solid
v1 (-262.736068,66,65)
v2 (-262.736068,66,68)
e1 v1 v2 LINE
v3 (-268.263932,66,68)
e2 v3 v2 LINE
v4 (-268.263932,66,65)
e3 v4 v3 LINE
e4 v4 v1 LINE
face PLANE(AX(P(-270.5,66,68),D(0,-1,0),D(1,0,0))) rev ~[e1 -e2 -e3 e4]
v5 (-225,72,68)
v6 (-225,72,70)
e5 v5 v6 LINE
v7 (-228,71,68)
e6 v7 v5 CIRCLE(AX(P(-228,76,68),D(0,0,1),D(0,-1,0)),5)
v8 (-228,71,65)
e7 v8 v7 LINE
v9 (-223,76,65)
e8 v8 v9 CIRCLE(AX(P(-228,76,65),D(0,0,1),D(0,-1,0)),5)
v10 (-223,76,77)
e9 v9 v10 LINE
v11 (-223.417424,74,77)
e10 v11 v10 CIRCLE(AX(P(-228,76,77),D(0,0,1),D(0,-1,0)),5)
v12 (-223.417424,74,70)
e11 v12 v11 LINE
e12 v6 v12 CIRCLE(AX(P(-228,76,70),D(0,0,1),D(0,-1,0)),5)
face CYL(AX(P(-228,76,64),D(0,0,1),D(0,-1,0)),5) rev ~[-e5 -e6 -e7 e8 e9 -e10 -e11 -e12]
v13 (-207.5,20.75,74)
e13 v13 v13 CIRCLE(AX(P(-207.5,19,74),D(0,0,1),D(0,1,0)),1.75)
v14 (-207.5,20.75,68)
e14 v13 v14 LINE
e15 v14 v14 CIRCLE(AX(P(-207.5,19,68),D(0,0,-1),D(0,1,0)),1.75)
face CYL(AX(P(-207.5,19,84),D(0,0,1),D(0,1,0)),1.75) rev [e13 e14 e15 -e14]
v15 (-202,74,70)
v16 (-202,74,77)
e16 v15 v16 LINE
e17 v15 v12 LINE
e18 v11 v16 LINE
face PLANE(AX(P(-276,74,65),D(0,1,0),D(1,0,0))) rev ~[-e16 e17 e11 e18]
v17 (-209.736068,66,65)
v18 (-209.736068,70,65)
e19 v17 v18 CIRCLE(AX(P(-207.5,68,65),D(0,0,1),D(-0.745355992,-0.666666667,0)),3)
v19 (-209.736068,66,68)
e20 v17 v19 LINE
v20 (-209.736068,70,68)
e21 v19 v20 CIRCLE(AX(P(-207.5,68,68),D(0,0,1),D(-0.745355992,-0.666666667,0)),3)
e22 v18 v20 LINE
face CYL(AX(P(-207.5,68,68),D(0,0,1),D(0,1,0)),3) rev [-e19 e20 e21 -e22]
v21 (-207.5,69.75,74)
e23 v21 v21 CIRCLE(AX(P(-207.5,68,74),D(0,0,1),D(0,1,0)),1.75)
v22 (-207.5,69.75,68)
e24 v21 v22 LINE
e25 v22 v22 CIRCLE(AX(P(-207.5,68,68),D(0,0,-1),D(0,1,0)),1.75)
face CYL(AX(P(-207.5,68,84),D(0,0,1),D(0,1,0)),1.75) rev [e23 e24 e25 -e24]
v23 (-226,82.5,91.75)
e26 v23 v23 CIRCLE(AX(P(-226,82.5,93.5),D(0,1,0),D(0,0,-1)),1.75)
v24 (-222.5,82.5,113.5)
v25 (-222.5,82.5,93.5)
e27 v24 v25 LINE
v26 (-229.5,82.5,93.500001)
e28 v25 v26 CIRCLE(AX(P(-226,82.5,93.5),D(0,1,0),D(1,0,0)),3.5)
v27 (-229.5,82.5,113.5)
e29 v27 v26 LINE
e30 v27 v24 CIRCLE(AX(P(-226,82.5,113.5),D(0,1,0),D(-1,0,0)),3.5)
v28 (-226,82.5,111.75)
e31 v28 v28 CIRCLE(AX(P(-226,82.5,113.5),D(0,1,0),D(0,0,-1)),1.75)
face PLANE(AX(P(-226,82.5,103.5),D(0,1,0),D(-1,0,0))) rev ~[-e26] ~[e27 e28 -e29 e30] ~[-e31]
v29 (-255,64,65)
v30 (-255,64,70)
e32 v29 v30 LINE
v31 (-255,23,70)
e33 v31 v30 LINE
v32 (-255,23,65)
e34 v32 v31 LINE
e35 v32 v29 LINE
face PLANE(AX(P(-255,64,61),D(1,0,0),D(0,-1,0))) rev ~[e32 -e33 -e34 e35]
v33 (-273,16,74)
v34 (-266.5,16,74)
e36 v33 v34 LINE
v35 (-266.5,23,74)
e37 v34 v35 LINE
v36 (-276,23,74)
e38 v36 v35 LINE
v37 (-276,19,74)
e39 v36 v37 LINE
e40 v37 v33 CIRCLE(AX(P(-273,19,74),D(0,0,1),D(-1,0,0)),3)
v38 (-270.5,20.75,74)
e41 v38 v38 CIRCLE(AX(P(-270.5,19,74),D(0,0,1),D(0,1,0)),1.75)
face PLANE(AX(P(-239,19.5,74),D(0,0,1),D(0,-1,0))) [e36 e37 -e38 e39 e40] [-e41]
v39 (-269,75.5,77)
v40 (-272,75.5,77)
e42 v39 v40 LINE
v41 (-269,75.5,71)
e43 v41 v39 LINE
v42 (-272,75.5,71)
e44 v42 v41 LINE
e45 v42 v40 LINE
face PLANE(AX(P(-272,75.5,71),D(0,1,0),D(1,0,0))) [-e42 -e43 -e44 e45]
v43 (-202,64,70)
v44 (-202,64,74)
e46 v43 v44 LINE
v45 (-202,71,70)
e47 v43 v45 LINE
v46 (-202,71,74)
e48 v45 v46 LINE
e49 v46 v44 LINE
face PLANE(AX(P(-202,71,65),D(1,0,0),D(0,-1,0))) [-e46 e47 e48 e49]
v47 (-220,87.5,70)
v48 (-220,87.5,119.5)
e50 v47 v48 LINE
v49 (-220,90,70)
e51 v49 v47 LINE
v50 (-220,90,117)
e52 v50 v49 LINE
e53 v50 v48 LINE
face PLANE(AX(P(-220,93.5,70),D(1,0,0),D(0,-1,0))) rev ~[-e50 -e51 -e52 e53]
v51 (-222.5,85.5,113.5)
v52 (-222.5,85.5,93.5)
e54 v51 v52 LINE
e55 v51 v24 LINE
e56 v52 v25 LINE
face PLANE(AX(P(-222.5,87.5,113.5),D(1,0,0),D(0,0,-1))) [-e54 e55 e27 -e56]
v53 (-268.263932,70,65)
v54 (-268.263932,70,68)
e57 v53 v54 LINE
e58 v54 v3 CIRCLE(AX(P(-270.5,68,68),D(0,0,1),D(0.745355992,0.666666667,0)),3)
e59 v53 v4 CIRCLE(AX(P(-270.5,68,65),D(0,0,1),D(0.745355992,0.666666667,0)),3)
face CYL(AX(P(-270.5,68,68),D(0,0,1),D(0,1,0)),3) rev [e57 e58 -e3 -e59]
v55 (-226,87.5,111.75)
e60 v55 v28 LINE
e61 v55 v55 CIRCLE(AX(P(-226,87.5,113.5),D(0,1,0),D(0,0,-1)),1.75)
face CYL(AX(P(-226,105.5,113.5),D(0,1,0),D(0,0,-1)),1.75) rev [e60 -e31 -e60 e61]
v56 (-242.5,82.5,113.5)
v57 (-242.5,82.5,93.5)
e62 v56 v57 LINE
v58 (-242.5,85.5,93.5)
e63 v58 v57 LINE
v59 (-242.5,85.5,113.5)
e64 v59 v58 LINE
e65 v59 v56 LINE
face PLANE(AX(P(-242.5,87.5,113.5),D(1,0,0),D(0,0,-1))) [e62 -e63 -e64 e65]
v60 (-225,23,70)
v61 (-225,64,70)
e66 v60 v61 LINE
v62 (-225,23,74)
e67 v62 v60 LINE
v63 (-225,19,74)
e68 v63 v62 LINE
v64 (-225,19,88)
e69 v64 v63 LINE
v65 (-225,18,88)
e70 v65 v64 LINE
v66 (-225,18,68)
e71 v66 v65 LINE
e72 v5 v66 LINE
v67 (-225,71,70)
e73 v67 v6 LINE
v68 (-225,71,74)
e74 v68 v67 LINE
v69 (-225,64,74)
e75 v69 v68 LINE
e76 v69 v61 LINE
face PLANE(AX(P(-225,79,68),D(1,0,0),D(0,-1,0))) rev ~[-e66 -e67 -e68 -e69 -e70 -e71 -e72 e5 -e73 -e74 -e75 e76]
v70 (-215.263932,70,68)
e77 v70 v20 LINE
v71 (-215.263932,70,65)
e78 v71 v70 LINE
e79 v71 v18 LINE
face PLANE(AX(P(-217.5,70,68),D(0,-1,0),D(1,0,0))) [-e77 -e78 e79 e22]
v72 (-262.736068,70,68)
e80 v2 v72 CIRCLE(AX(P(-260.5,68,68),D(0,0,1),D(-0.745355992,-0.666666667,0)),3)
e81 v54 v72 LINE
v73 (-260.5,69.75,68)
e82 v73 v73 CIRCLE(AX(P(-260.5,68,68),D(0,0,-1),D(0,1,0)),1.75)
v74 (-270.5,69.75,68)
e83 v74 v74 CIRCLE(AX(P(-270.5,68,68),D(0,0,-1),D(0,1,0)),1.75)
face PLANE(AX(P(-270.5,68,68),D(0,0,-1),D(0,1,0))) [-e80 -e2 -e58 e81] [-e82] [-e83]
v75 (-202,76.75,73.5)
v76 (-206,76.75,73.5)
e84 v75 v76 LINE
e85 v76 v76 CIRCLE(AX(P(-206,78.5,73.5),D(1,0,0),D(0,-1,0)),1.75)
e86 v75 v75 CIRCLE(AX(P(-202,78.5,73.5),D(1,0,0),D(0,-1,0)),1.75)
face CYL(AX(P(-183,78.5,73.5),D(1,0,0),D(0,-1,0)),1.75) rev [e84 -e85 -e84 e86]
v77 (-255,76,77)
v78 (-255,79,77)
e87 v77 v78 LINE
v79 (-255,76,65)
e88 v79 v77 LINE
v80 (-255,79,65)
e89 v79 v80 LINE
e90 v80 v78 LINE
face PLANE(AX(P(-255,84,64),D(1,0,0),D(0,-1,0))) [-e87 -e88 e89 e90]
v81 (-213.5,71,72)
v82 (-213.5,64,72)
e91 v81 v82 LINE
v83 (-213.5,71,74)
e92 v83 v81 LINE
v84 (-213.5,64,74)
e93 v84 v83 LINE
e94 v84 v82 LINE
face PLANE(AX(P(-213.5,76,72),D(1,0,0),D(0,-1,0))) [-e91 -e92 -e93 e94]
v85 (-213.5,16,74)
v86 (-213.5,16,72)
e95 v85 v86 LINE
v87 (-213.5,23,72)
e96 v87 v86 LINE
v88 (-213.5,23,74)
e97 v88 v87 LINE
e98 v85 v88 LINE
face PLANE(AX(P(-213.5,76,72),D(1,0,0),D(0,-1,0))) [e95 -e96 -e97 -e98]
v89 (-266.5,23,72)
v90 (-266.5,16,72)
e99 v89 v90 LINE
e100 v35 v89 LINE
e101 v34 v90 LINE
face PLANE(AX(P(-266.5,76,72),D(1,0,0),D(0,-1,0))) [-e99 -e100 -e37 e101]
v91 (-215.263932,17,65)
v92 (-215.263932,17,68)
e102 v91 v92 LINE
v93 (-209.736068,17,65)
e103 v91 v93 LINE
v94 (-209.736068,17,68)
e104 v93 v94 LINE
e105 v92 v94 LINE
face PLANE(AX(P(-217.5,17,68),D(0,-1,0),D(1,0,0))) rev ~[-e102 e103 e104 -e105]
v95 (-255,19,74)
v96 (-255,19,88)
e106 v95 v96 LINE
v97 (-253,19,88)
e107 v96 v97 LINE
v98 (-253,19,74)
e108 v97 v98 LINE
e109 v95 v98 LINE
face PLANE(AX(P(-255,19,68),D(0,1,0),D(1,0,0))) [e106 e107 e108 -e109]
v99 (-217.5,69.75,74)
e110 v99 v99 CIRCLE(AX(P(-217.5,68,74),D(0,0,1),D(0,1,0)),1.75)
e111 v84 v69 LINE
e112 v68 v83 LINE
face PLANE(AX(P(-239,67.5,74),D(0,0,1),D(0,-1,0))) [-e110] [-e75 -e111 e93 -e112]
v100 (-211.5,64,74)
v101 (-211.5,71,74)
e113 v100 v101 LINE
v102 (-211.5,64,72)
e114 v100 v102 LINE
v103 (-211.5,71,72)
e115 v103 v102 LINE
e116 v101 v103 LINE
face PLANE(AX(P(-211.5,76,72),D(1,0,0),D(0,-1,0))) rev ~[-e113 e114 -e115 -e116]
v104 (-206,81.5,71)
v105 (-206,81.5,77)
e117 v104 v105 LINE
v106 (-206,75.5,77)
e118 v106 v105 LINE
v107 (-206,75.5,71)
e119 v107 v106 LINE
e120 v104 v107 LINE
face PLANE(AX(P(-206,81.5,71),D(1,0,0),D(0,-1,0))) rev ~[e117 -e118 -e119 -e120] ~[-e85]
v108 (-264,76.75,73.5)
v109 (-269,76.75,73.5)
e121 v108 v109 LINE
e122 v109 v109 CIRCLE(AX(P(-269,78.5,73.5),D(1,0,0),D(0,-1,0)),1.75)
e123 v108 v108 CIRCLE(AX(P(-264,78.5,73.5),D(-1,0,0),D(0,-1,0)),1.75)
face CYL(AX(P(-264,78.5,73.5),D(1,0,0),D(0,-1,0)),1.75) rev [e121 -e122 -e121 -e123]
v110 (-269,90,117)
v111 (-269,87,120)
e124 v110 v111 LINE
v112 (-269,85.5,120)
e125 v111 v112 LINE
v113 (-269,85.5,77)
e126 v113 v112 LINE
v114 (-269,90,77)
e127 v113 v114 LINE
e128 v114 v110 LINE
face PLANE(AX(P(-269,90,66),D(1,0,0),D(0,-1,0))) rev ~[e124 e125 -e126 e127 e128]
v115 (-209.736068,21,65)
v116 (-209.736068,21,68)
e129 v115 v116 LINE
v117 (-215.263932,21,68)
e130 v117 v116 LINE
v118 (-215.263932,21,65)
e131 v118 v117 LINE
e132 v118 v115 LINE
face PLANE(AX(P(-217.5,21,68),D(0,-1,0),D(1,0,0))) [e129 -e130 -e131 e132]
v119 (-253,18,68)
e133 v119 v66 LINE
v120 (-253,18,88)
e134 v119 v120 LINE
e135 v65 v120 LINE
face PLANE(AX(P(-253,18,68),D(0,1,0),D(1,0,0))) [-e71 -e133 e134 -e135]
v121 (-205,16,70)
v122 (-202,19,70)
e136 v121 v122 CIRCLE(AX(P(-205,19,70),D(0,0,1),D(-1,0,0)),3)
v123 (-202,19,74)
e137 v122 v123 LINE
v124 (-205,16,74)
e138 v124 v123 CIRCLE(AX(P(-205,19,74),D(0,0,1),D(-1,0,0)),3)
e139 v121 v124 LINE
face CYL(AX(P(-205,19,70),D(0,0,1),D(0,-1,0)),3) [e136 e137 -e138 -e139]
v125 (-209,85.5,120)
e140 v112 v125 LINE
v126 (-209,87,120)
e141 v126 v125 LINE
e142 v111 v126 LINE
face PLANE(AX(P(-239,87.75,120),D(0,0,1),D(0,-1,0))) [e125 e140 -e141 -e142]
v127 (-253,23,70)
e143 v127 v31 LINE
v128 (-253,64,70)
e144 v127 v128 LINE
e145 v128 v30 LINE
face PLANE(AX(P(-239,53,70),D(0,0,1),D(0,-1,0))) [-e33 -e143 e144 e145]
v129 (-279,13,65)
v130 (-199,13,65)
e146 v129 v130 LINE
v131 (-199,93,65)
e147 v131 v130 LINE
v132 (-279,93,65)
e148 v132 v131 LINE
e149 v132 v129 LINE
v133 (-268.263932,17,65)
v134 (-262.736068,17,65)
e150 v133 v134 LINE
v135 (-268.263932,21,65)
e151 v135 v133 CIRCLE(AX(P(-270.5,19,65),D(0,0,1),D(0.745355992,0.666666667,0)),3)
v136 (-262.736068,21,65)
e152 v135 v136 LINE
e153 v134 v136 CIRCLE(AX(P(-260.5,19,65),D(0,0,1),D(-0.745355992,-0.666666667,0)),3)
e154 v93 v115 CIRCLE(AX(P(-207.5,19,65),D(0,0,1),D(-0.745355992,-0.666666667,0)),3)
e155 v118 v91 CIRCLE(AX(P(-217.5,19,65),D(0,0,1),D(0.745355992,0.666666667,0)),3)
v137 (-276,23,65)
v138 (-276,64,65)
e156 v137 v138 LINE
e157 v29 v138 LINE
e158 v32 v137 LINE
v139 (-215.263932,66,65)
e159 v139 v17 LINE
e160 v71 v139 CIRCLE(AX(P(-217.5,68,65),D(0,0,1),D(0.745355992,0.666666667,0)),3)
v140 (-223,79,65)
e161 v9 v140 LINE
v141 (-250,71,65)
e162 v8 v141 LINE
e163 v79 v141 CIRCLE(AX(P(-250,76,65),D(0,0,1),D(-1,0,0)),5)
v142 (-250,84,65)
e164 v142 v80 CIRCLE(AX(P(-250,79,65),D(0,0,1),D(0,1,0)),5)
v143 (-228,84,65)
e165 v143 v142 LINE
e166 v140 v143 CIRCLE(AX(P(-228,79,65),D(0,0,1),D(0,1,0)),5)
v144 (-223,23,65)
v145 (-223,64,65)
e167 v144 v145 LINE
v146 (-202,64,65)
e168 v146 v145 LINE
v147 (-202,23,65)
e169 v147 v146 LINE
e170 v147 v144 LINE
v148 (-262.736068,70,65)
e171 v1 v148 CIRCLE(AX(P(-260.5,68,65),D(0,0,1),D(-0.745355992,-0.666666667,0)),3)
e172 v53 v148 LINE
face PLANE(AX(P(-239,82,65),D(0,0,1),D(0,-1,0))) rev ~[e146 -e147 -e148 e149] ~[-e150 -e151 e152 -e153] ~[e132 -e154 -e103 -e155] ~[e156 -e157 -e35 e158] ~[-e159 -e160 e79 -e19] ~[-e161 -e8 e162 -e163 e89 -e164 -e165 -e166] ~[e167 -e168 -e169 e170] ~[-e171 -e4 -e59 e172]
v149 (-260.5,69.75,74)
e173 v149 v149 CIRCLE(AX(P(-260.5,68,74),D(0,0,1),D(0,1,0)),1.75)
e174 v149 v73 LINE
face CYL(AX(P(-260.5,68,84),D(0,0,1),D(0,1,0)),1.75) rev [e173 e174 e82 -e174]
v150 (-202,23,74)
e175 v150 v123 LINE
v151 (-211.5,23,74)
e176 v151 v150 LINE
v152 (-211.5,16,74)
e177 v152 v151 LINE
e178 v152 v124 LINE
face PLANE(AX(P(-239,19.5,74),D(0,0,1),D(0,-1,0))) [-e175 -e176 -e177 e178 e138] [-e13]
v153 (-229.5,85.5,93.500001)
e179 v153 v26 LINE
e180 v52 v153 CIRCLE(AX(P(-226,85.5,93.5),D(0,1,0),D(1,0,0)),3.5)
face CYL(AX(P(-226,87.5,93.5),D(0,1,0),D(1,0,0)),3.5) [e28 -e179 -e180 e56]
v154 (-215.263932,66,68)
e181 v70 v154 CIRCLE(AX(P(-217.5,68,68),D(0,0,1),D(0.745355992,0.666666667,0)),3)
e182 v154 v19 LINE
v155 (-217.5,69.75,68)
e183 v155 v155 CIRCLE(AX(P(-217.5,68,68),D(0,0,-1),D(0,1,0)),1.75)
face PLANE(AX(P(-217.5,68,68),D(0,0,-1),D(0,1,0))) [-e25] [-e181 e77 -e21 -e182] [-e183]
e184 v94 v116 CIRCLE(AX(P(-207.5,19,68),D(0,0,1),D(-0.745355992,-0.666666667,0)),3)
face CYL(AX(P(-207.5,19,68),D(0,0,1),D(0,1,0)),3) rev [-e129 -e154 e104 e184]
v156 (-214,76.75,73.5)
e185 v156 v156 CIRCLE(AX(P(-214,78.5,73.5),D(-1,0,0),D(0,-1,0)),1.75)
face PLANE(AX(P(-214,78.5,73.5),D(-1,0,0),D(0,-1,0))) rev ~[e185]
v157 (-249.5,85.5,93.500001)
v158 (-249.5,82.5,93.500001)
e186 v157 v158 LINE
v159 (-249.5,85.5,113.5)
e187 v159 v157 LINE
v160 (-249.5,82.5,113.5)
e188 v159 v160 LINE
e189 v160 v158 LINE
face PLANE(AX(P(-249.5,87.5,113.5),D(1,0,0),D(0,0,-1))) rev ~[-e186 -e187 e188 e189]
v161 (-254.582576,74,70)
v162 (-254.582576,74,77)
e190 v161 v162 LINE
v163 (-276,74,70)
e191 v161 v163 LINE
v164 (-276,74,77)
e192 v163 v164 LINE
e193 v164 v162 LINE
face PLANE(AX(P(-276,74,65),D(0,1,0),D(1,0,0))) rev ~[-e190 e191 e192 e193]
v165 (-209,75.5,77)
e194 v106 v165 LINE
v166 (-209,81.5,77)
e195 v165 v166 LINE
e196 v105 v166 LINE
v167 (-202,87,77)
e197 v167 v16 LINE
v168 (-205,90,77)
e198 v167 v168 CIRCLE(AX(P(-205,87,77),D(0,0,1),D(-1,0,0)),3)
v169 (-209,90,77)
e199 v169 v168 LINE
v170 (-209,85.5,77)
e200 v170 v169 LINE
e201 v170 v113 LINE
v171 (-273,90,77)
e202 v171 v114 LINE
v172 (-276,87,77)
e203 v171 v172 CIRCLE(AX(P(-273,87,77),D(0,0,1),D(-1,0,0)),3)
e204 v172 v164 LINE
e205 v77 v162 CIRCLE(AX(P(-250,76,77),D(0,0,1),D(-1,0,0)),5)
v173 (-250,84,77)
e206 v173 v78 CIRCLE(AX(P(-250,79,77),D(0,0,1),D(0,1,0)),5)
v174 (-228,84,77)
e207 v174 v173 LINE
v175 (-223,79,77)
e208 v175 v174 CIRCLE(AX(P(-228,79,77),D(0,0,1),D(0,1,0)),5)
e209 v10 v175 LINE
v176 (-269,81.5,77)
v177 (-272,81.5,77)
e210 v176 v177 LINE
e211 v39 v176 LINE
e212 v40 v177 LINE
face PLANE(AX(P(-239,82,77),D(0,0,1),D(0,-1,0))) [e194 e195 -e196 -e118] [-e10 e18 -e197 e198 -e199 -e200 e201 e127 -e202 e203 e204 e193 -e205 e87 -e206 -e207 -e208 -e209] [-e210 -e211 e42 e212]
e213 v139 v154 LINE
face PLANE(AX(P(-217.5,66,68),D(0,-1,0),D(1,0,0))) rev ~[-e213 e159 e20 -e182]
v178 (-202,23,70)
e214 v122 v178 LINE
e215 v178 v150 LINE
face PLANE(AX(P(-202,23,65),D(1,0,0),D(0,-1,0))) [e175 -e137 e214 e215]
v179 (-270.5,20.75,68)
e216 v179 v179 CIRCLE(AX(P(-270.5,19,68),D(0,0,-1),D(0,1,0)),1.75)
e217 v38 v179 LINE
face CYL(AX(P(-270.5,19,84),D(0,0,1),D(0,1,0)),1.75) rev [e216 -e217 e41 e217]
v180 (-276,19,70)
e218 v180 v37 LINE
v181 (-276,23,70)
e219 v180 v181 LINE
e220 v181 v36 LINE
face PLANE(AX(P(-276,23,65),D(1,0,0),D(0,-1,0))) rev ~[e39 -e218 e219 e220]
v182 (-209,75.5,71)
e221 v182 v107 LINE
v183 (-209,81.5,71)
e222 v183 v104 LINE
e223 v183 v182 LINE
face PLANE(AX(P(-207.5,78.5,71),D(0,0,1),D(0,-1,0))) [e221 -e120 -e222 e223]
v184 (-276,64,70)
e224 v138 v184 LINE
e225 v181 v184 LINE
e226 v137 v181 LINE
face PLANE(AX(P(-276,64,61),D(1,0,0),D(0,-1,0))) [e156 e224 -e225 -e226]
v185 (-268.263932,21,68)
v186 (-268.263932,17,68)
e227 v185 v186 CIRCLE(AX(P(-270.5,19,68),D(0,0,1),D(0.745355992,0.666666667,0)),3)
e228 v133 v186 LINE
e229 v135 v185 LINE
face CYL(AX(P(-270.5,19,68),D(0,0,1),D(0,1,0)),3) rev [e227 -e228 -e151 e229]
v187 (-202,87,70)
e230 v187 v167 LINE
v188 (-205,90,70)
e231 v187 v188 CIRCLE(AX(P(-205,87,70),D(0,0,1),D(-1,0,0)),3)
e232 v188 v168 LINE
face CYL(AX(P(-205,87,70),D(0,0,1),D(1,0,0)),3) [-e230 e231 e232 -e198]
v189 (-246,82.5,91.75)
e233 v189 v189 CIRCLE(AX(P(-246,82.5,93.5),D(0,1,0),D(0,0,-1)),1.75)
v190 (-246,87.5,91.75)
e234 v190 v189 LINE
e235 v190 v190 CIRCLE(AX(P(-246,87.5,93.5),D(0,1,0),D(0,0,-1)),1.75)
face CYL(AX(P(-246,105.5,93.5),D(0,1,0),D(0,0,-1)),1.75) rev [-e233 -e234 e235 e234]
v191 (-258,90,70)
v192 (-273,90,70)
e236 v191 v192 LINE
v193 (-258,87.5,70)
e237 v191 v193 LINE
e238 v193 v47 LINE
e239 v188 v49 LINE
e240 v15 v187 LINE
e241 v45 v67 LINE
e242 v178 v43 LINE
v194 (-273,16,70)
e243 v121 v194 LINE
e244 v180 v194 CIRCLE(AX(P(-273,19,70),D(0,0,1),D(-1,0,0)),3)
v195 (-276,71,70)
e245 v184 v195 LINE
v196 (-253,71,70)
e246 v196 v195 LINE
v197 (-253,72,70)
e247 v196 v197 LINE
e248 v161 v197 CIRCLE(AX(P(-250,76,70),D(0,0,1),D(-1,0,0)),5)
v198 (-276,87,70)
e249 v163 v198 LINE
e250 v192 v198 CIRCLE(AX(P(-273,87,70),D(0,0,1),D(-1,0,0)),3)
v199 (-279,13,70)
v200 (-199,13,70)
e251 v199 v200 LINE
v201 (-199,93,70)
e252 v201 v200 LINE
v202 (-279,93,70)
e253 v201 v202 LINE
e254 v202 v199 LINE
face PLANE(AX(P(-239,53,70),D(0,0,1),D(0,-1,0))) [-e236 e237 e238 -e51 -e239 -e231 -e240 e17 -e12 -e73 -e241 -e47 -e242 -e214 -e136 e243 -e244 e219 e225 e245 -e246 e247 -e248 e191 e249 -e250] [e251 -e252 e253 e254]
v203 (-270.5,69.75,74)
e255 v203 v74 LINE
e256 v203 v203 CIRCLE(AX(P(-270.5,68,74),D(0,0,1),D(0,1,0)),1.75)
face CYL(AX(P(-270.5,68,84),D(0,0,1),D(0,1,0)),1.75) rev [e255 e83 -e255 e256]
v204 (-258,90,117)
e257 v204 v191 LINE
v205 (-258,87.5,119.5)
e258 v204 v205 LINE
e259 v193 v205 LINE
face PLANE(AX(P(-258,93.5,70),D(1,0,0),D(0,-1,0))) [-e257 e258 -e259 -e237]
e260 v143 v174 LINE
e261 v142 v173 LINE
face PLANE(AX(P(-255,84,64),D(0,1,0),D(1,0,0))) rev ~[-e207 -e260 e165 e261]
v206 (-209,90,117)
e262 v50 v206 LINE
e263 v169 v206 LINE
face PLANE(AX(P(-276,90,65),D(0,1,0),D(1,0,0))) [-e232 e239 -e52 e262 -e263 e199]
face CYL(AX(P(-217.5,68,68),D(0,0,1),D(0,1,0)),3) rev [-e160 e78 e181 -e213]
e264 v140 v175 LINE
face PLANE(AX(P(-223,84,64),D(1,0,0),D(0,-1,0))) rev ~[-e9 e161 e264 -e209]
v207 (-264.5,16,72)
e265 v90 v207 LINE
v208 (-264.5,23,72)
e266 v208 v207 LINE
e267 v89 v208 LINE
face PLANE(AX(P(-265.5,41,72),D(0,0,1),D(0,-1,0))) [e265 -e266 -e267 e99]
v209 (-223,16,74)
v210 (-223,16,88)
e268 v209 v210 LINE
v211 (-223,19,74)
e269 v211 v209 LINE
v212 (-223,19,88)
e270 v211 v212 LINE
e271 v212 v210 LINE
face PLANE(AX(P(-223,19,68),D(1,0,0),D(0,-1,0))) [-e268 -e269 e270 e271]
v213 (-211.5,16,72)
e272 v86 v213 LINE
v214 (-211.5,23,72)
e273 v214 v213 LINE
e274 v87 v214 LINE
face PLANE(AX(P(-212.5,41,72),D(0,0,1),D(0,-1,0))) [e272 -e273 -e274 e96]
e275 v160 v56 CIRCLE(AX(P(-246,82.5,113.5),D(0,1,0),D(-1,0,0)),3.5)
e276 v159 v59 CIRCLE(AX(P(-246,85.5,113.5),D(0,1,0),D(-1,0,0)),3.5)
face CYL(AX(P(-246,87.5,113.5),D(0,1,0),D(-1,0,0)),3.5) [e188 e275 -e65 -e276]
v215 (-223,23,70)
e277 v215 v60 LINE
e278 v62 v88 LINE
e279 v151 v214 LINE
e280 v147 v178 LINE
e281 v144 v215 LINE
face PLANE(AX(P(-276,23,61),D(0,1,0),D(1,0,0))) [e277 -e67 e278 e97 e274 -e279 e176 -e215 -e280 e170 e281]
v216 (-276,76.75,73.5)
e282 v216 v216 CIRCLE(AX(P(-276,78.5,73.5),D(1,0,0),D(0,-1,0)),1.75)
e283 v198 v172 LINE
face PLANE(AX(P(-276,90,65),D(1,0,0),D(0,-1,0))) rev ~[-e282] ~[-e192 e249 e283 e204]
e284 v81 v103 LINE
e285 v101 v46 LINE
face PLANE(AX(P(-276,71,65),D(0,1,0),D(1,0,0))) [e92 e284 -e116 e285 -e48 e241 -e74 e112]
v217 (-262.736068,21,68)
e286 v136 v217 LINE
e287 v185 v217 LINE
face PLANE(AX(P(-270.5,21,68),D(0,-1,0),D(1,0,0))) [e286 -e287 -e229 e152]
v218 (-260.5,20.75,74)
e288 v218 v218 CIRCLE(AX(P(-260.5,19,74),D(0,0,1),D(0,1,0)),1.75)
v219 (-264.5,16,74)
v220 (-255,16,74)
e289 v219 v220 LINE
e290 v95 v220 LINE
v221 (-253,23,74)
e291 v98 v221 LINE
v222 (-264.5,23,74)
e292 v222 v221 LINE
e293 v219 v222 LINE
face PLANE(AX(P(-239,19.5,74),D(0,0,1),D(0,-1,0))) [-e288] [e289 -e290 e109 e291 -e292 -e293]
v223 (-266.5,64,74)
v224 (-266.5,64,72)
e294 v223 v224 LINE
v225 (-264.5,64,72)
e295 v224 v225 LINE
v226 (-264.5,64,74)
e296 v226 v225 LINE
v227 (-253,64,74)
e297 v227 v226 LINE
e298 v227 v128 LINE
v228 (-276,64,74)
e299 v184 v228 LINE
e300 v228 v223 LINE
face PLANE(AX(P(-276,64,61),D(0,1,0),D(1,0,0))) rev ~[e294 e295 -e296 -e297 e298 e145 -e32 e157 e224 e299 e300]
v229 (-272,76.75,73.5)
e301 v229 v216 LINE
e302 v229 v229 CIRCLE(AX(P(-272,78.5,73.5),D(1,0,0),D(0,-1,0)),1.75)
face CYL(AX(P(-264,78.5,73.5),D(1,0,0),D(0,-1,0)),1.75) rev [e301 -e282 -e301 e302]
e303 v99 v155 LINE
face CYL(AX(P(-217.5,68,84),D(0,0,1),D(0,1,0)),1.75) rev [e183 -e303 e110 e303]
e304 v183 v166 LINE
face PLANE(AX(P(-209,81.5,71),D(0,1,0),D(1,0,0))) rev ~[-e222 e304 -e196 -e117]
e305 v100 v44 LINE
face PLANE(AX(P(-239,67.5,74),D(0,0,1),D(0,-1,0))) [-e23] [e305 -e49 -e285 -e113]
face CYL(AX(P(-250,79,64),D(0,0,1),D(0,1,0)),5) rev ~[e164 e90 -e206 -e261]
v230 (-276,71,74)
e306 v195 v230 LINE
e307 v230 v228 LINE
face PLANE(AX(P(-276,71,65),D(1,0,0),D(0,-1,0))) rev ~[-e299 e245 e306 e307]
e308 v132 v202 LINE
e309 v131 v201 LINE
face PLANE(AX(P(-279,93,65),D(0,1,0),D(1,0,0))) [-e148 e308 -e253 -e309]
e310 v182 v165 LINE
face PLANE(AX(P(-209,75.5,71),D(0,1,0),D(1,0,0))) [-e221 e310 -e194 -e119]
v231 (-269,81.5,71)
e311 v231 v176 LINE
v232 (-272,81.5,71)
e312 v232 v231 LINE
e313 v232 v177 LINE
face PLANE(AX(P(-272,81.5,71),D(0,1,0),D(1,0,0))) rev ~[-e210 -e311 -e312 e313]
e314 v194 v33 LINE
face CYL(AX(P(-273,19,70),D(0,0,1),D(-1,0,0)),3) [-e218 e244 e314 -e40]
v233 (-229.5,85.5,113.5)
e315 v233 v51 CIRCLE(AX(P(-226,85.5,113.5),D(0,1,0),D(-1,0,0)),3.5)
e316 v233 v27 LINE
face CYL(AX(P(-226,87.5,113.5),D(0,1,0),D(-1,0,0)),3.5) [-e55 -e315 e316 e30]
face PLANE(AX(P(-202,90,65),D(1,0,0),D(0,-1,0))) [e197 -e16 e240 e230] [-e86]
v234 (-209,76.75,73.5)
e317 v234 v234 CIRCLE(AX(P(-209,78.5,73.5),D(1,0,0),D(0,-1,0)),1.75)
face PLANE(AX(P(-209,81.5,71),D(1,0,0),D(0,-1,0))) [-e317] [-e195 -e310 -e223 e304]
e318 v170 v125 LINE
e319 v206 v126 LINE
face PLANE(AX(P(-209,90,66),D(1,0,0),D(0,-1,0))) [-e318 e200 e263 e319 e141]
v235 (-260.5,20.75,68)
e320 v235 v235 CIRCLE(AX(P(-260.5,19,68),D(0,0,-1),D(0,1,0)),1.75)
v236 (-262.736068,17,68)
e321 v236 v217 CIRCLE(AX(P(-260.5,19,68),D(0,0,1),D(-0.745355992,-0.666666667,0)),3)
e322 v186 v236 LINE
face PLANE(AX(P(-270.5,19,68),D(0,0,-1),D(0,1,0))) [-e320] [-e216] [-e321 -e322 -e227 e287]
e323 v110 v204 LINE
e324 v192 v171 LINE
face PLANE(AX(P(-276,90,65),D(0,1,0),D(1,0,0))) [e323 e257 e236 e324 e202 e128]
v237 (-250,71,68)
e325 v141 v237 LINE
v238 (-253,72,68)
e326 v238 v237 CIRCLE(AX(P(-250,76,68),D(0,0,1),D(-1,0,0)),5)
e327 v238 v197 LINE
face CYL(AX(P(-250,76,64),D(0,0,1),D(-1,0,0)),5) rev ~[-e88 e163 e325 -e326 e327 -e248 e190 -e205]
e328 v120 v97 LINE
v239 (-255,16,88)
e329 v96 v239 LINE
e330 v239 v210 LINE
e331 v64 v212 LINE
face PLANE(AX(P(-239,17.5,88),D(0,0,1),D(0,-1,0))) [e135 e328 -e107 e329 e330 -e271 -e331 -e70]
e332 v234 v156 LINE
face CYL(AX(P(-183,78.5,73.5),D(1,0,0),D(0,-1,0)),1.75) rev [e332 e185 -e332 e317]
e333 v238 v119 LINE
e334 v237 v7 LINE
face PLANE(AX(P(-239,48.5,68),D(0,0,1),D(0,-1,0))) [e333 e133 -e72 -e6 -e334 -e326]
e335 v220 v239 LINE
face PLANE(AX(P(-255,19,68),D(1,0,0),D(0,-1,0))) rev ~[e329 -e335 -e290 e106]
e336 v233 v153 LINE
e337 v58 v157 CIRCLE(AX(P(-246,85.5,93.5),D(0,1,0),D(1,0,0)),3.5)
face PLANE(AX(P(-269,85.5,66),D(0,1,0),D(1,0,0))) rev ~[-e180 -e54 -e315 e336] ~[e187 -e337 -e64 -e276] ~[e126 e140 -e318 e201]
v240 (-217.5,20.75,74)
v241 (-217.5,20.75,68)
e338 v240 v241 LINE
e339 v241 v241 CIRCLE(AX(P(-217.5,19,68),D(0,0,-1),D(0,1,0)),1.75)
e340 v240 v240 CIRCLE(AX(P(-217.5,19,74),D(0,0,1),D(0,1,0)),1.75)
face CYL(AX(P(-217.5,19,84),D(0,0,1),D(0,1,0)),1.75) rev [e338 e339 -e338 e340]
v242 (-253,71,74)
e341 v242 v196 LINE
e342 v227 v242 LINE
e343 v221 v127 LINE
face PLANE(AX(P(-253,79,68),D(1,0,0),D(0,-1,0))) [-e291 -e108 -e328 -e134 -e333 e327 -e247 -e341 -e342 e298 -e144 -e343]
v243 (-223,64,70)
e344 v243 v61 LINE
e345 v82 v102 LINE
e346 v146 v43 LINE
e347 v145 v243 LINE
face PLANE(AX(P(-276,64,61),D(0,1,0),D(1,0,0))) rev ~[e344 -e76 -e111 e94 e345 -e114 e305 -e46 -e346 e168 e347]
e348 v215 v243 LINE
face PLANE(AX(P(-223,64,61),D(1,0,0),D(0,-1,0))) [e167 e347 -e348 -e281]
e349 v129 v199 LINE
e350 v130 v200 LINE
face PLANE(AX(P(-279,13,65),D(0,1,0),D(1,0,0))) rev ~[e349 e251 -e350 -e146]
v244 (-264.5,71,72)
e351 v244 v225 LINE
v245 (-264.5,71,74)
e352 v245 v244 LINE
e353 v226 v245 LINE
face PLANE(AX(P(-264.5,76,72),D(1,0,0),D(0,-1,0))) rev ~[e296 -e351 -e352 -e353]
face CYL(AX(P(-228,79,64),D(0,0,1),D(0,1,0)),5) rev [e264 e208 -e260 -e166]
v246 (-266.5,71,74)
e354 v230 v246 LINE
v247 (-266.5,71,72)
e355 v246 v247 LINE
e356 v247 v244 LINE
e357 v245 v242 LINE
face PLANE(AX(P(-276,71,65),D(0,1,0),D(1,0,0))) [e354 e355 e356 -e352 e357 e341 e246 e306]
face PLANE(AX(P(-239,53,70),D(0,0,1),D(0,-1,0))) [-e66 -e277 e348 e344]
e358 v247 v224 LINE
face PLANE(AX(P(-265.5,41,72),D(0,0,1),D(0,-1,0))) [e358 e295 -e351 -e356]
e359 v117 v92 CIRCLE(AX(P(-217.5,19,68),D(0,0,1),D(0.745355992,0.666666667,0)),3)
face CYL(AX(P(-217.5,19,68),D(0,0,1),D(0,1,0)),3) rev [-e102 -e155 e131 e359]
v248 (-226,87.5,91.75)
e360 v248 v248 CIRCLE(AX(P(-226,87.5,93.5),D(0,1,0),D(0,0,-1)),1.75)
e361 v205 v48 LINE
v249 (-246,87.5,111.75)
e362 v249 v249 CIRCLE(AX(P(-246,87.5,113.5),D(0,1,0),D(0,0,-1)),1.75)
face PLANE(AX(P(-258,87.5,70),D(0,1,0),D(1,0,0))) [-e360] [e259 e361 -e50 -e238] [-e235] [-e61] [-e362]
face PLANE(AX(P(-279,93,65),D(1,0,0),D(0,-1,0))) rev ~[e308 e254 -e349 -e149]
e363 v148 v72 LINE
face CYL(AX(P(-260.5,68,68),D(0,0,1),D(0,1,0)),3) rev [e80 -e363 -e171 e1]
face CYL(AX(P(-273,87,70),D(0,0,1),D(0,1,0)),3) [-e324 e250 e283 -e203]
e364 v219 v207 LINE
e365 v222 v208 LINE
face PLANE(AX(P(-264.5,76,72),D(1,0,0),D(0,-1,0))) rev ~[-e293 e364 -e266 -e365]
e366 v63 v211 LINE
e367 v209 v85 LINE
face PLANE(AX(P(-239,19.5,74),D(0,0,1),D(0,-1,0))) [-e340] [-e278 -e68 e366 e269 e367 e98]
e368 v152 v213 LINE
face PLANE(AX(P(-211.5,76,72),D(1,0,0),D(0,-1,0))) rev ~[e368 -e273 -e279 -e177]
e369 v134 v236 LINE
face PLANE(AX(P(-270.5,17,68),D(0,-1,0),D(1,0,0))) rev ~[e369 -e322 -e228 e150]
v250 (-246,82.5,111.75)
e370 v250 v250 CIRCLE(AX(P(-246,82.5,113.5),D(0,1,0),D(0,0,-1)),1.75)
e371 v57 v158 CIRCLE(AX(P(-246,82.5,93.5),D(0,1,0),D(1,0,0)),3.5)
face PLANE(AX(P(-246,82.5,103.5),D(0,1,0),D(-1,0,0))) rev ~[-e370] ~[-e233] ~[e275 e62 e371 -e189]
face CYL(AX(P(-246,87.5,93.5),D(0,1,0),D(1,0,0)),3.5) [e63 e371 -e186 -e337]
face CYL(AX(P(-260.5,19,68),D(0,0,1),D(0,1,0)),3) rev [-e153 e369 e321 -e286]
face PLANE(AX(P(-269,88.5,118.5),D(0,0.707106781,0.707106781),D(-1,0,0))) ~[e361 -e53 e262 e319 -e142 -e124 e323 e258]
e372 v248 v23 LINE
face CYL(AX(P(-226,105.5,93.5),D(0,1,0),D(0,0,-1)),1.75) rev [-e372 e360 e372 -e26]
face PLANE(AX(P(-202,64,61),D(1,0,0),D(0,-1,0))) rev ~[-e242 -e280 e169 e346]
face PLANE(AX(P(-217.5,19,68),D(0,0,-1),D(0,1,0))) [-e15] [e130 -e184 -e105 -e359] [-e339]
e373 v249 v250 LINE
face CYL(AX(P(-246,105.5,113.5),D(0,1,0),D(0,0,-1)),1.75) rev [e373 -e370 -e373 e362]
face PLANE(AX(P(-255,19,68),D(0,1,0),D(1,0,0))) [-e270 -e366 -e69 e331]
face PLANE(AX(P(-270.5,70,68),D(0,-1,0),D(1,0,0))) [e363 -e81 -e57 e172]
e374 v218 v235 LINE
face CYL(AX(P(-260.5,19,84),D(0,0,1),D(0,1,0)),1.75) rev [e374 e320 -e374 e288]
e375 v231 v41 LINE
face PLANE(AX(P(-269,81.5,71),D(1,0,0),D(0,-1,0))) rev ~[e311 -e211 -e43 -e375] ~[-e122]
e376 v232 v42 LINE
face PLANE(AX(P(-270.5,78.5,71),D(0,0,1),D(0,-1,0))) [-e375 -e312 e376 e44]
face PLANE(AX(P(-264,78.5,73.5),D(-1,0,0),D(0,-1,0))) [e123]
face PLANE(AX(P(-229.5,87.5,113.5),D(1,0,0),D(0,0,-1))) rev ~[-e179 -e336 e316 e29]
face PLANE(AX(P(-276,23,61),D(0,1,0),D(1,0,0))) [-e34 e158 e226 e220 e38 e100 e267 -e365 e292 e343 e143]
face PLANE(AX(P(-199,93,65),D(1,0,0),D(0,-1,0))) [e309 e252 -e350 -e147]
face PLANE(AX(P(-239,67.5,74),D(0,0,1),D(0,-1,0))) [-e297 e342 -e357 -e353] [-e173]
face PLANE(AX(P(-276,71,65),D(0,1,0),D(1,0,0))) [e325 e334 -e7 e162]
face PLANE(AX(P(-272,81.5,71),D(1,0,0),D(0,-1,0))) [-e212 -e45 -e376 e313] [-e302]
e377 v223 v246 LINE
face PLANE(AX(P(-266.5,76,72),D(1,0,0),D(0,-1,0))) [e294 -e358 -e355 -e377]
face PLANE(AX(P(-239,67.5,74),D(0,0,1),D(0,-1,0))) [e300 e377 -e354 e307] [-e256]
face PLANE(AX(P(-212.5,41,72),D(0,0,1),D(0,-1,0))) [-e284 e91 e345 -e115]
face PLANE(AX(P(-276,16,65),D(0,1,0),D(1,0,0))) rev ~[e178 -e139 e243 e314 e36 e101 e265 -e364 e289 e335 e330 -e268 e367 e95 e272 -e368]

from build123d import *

# Parameters (mm, degrees)
SKETCH018_W             = 10
SKETCH018_H             = 4
PAD013_DEPTH            = 10
BOX035_W                = 6
BOX035_H                = 38
BOX035_DEPTH            = 68
CYLINDER040_R           = 1.75
CYLINDER040_DEPTH       = 31
CYLINDER040_PITCH_ANGLE = 90
CYLINDER041_R           = 1.75
CYLINDER041_DEPTH       = 31
CYLINDER041_PITCH_ANGLE = 90
CYLINDER_R              = 1.75
CYLINDER_DEPTH          = 31
CYLINDER_PITCH_ANGLE    = 90
CYLINDER053_R           = 1.75
CYLINDER053_DEPTH       = 31
CYLINDER053_PITCH_ANGLE = 90
PAD_DEPTH               = 5
BOX037_W                = 61
BOX037_H                = 28
BOX037_DEPTH            = 44
BOX036_W                = 13
BOX036_H                = 32
BOX036_DEPTH            = 17
FILLET018002_R          = 5
BOX033_W                = 4.5
BOX033_H                = 60
BOX033_DEPTH            = 54
CYLINDER013_R           = 1.75
CYLINDER013_DEPTH       = 31
CYLINDER013_ROLL_ANGLE  = 90
CYLINDER012_R           = 1.75
CYLINDER012_DEPTH       = 31
CYLINDER012_ROLL_ANGLE  = 90
BOX018_W                = 6
BOX018_H                = 3
BOX018_DEPTH            = 12
BOX016_W                = 6
BOX016_H                = 3
BOX016_DEPTH            = 12
BOX017_W                = 16
BOX017_H                = 74
BOX017_DEPTH            = 12
BOX015_W                = 41
BOX015_H                = 21
BOX015_DEPTH            = 43
BOX014_W                = 41
BOX014_H                = 21
BOX014_DEPTH            = 43
CYLINDER008_R           = 1.75
CYLINDER008_DEPTH       = 21.5
CYLINDER008_PITCH_ANGLE = 90
CYLINDER009_R           = 3
CYLINDER009_DEPTH       = 21.5
CYLINDER009_PITCH_ANGLE = 90
FUSION009_PITCH_ANGLE   = 90
FUSION010_PITCH_ANGLE   = 90
FUSION008_PITCH_ANGLE   = 90
FUSION005_PITCH_ANGLE   = 90
BOX012_W                = 70
BOX012_H                = 2
BOX012_DEPTH            = 9
BOX011_W                = 7
BOX011_H                = 74
BOX011_DEPTH            = 9
BOX010_W                = 7
BOX010_H                = 74
BOX010_DEPTH            = 9
BOX009_W                = 80
BOX009_H                = 80
BOX009_DEPTH            = 5
BOX032_W                = 3
BOX032_H                = 32
BOX032_DEPTH            = 20
CHAMFER003_SIZE         = 3
FILLET018013_R          = 3
CUT113_PLACEMENT_ANGLE  = -90


with BuildPart() as pad013:
    # Sketch018 → Pad013 (new body)
    with BuildSketch(Plane(origin=(70, 275, 66), x_dir=(0, 1, 0), z_dir=(0, 0, -1))):
        with Locations((-265.5, -19)):
            Rectangle(SKETCH018_W, SKETCH018_H)
        with Locations((-212.5, -19)):
            Rectangle(SKETCH018_W, SKETCH018_H)
        with Locations((-265.5, -68)):
            Rectangle(SKETCH018_W, SKETCH018_H)
        with Locations((-212.5, -68)):
            Rectangle(SKETCH018_W, SKETCH018_H)
    extrude(amount=PAD013_DEPTH)


with BuildPart() as cube035:
    # Box035 → Box035 (new body)
    with BuildSketch(Plane(origin=(-23.5, 17, 68), x_dir=(1, 0, 0), z_dir=(0, 0, 1))):
        with Locations((3, 19)):
            Rectangle(BOX035_W, BOX035_H)
    extrude(amount=BOX035_DEPTH)


with BuildPart() as cylinder095:
    # Cylinder040 → Cylinder040 (new body)
    with BuildSketch(Plane.XY):
        Circle(CYLINDER040_R)
    extrude(amount=CYLINDER040_DEPTH)


with BuildPart() as cylinder095_1:
    # Cylinder040 pitch: moved
    add(cylinder095.part.rotate(Axis((0, 0, 0), (0, 1, 0)), CYLINDER040_PITCH_ANGLE))


with BuildPart() as cylinder095_2:
    # Cylinder040 placement: moved
    add(cylinder095_1.part.moved(Location((-49.5, 49, 91.5))))


with BuildPart() as cylinder096:
    # Cylinder041 → Cylinder041 (new body)
    with BuildSketch(Plane.XY):
        Circle(CYLINDER041_R)
    extrude(amount=CYLINDER041_DEPTH)


with BuildPart() as cylinder096_1:
    # Cylinder041 pitch: moved
    add(cylinder096.part.rotate(Axis((0, 0, 0), (0, 1, 0)), CYLINDER041_PITCH_ANGLE))


with BuildPart() as cylinder096_2:
    # Cylinder041 placement: moved
    add(cylinder096_1.part.moved(Location((-49.5, 49, 111.5))))


with BuildPart() as cylinder094:
    # Cylinder → Cylinder (new body)
    with BuildSketch(Plane.XY):
        Circle(CYLINDER_R)
    extrude(amount=CYLINDER_DEPTH)


with BuildPart() as cylinder094_1:
    # Cylinder pitch: moved
    add(cylinder094.part.rotate(Axis((0, 0, 0), (0, 1, 0)), CYLINDER_PITCH_ANGLE))


with BuildPart() as cylinder094_2:
    # Cylinder placement: moved
    add(cylinder094_1.part.moved(Location((-49.5, 29, 111.5))))


with BuildPart() as fusion038:
    # Cylinder053 → Cylinder053 (new body)
    with BuildSketch(Plane.XY):
        Circle(CYLINDER053_R)
    extrude(amount=CYLINDER053_DEPTH)


with BuildPart() as fusion038_1:
    # Cylinder053 pitch: moved
    add(fusion038.part.rotate(Axis((0, 0, 0), (0, 1, 0)), CYLINDER053_PITCH_ANGLE))


with BuildPart() as fusion038_2:
    # Cylinder053 placement: moved
    add(fusion038_1.part.moved(Location((-49.5, 29, 91.5))))

    # Fusion038: union Cylinder095, Cylinder096, Cylinder094
    add(cylinder095_2.part)
    add(cylinder096_2.part)
    add(cylinder094_2.part)


with BuildPart() as fusion038_3:
    # Fusion038 placement: moved
    add(fusion038_2.part.moved(Location((14, 0, 0))))


with BuildPart() as pad:
    # Sketch → Pad (new body)
    with BuildSketch(Plane(origin=(-22, 0, 0), x_dir=(0, -1, 0), z_dir=(-1, 0, 0))):
        with BuildLine():
            ThreePointArc((-45.5, 111.5), (-49, 115), (-52.5, 111.5))
            Line((-52.5, 111.5), (-52.5, 91.5))
            ThreePointArc((-52.5, 91.5), (-49, 88), (-45.5, 91.500001))
            Line((-45.5, 111.5), (-45.5, 91.500001))
        make_face()
    extrude(amount=-PAD_DEPTH)


with BuildPart() as clone_of_pad:
    # Clone base: copy of Pad
    add(pad.part)


with BuildPart() as clone_of_pad_1:
    # Clone placement: moved
    add(clone_of_pad.part.moved(Location((0, -20, 0))))


with BuildPart() as fusion039:
    # Fusion039 base: copy of Pad
    add(pad.part)

    # Fusion039: union Clone of Pad
    add(clone_of_pad_1.part)


with BuildPart() as fusion039_1:
    # Fusion039 placement: moved
    add(fusion039.part.moved(Location((4.5, 0, 0))))


with BuildPart() as cube036:
    # Box037 → Box037 (new body)
    with BuildSketch(Plane(origin=(-9, 22, 66), x_dir=(1, 0, 0), z_dir=(0, 0, 1))):
        with Locations((30.5, 14)):
            Rectangle(BOX037_W, BOX037_H)
    extrude(amount=BOX037_DEPTH)


with BuildPart() as fillet018002:
    # Box036 → Box036 (new body)
    with BuildSketch(Plane(origin=(-14, 20, 62), x_dir=(1, 0, 0), z_dir=(0, 0, 1))):
        with Locations((6.5, 16)):
            Rectangle(BOX036_W, BOX036_H)
    extrude(amount=BOX036_DEPTH)

    # Fillet018002
    fillet018002_edges = [fillet018002.edges().sort_by_distance(p)[0] for p in [
        (-14, 20, 70.5),
        (-14, 52, 70.5),
        (-1, 20, 70.5),
        (-1, 52, 70.5),
    ]]
    fillet(fillet018002_edges, radius=FILLET018002_R)


with BuildPart() as cube033:
    # Box033 → Box033 (new body)
    with BuildSketch(Plane(origin=(-20, 6, 64), x_dir=(1, 0, 0), z_dir=(0, 0, 1))):
        with Locations((2.25, 30)):
            Rectangle(BOX033_W, BOX033_H)
    extrude(amount=BOX033_DEPTH)


with BuildPart() as cylinder001:
    # Cylinder013 → Cylinder013 (new body)
    with BuildSketch(Plane.XY):
        Circle(CYLINDER013_R)
    extrude(amount=CYLINDER013_DEPTH)


with BuildPart() as cylinder001_1:
    # Cylinder013 roll: moved
    add(cylinder001.part.rotate(Axis((0, 0, 0), (1, 0, 0)), CYLINDER013_ROLL_ANGLE))


with BuildPart() as cylinder001_2:
    # Cylinder013 placement: moved
    add(cylinder001_1.part.moved(Location((-8.5, 11, 71.5))))


with BuildPart() as cylinder030:
    # Cylinder012 → Cylinder012 (new body)
    with BuildSketch(Plane.XY):
        Circle(CYLINDER012_R)
    extrude(amount=CYLINDER012_DEPTH)


with BuildPart() as cylinder030_1:
    # Cylinder012 roll: moved
    add(cylinder030.part.rotate(Axis((0, 0, 0), (1, 0, 0)), CYLINDER012_ROLL_ANGLE))


with BuildPart() as cylinder030_2:
    # Cylinder012 placement: moved
    add(cylinder030_1.part.moved(Location((-8.5, 92, 71.5))))


with BuildPart() as cube018:
    # Box018 → Box018 (new body)
    with BuildSketch(Plane(origin=(-11.5, 66, 69), x_dir=(1, 0, 0), z_dir=(0, 0, 1))):
        with Locations((3, 1.5)):
            Rectangle(BOX018_W, BOX018_H)
    extrude(amount=BOX018_DEPTH)


with BuildPart() as cube016:
    # Box016 → Box016 (new body)
    with BuildSketch(Plane(origin=(-11.5, 3, 69), x_dir=(1, 0, 0), z_dir=(0, 0, 1))):
        with Locations((3, 1.5)):
            Rectangle(BOX016_W, BOX016_H)
    extrude(amount=BOX016_DEPTH)


with BuildPart() as cube017:
    # Box017 → Box017 (new body)
    with BuildSketch(Plane(origin=(-20, -1, 63), x_dir=(1, 0, 0), z_dir=(0, 0, 1))):
        with Locations((8, 37)):
            Rectangle(BOX017_W, BOX017_H)
    extrude(amount=BOX017_DEPTH)


with BuildPart() as cube015:
    # Box015 → Box015 (new body)
    with BuildSketch(Plane(origin=(6, 52, 59), x_dir=(1, 0, 0), z_dir=(0, 0, 1))):
        with Locations((20.5, 10.5)):
            Rectangle(BOX015_W, BOX015_H)
    extrude(amount=BOX015_DEPTH)


with BuildPart() as cube014:
    # Box014 → Box014 (new body)
    with BuildSketch(Plane(origin=(6, -1, 59), x_dir=(1, 0, 0), z_dir=(0, 0, 1))):
        with Locations((20.5, 10.5)):
            Rectangle(BOX014_W, BOX014_H)
    extrude(amount=BOX014_DEPTH)


with BuildPart() as joint_d010:
    # Cylinder008 → Cylinder008 (new body)
    with BuildSketch(Plane.XY):
        Circle(CYLINDER008_R)
    extrude(amount=CYLINDER008_DEPTH)


with BuildPart() as joint_d010_1:
    # Cylinder008 pitch: moved
    add(joint_d010.part.rotate(Axis((0, 0, 0), (0, 1, 0)), CYLINDER008_PITCH_ANGLE))


with BuildPart() as joint_d010_2:
    # Cylinder008 placement: moved
    add(joint_d010_1.part.moved(Location((16, -24.5, 7))))


with BuildPart() as joint_d011:
    # Cylinder009 → Cylinder009 (new body)
    with BuildSketch(Plane.XY):
        Circle(CYLINDER009_R)
    extrude(amount=CYLINDER009_DEPTH)


with BuildPart() as joint_d011_1:
    # Cylinder009 pitch: moved
    add(joint_d011.part.rotate(Axis((0, 0, 0), (0, 1, 0)), CYLINDER009_PITCH_ANGLE))


with BuildPart() as joint_d011_2:
    # Cylinder009 placement: moved
    add(joint_d011_1.part.moved(Location((32, -24.5, 7))))


with BuildPart() as fusion009:
    # Fusion009 base: copy of Joint-D011
    add(joint_d011_2.part)

    # Fusion009: union Joint-D010
    add(joint_d010_2.part)


with BuildPart() as fusion009_1:
    # Fusion009 pitch: moved
    add(fusion009.part.rotate(Axis((0, 0, 0), (0, 1, 0)), FUSION009_PITCH_ANGLE))


with BuildPart() as fusion009_2:
    # Fusion009 placement: moved
    add(fusion009_1.part.moved(Location((-5, 39, 98))))


with BuildPart() as fusion010:
    # Fusion010 base: copy of Joint-D011
    add(joint_d011_2.part)

    # Fusion010: union Joint-D010
    add(joint_d010_2.part)


with BuildPart() as fusion010_1:
    # Fusion010 pitch: moved
    add(fusion010.part.rotate(Axis((0, 0, 0), (0, 1, 0)), FUSION010_PITCH_ANGLE))


with BuildPart() as fusion010_2:
    # Fusion010 placement: moved
    add(fusion010_1.part.moved(Location((-5, 29, 98))))


with BuildPart() as fusion008:
    # Fusion008 base: copy of Joint-D011
    add(joint_d011_2.part)

    # Fusion008: union Joint-D010
    add(joint_d010_2.part)


with BuildPart() as fusion008_1:
    # Fusion008 pitch: moved
    add(fusion008.part.rotate(Axis((0, 0, 0), (0, 1, 0)), FUSION008_PITCH_ANGLE))


with BuildPart() as fusion008_2:
    # Fusion008 placement: moved
    add(fusion008_1.part.moved(Location((44, 29, 98))))


with BuildPart() as fusion005:
    # Fusion005 base: copy of Joint-D011
    add(joint_d011_2.part)

    # Fusion005: union Joint-D010
    add(joint_d010_2.part)


with BuildPart() as fusion005_1:
    # Fusion005 pitch: moved
    add(fusion005.part.rotate(Axis((0, 0, 0), (0, 1, 0)), FUSION005_PITCH_ANGLE))


with BuildPart() as fusion005_2:
    # Fusion005 placement: moved
    add(fusion005_1.part.moved(Location((44, 39, 98))))


with BuildPart() as cube012:
    # Box012 → Box012 (new body)
    with BuildSketch(Plane(origin=(-6, 8.5, 70), x_dir=(1, 0, 0), z_dir=(0, 0, 1))):
        with Locations((35, 1)):
            Rectangle(BOX012_W, BOX012_H)
    extrude(amount=BOX012_DEPTH)


with BuildPart() as fusion011:
    # Fusion011 base: copy of Cube012
    add(cube012.part)

    # Fusion011: union Fusion009, Fusion010, Fusion008, Fusion005
    add(fusion009_2.part)
    add(fusion010_2.part)
    add(fusion008_2.part)
    add(fusion005_2.part)


with BuildPart() as fusion012:
    # Fusion012 base: copy of Cube012
    add(cube012.part)

    # Fusion012: union Fusion009, Fusion010, Fusion008, Fusion005
    add(fusion009_2.part)
    add(fusion010_2.part)
    add(fusion008_2.part)
    add(fusion005_2.part)


with BuildPart() as fusion012_1:
    # Fusion012 placement: moved
    add(fusion012.part.moved(Location((0, 53, 0))))


with BuildPart() as cube011:
    # Box011 → Box011 (new body)
    with BuildSketch(Plane(origin=(47, -1, 63), x_dir=(1, 0, 0), z_dir=(0, 0, 1))):
        with Locations((3.5, 37)):
            Rectangle(BOX011_W, BOX011_H)
    extrude(amount=BOX011_DEPTH)


with BuildPart() as cube010:
    # Box010 → Box010 (new body)
    with BuildSketch(Plane(origin=(-1, -1, 63), x_dir=(1, 0, 0), z_dir=(0, 0, 1))):
        with Locations((3.5, 37)):
            Rectangle(BOX010_W, BOX010_H)
    extrude(amount=BOX010_DEPTH)


with BuildPart() as cut050:
    # Box009 → Box009 (new body)
    with BuildSketch(Plane(origin=(-23, -4, 63), x_dir=(1, 0, 0), z_dir=(0, 0, 1))):
        with Locations((40, 40)):
            Rectangle(BOX009_W, BOX009_H)
    extrude(amount=BOX009_DEPTH)

    # Fusion013: union Cube011, Cube010
    add(cube011.part)
    add(cube010.part)

    # Cut018: cut Fusion012
    add(fusion012_1.part, mode=Mode.SUBTRACT)

    # Cut019: cut Fusion011
    add(fusion011.part, mode=Mode.SUBTRACT)

    # Cut020: cut Cube014
    add(cube014.part, mode=Mode.SUBTRACT)

    # Cut021: cut Cube015
    add(cube015.part, mode=Mode.SUBTRACT)

    # Fusion014: union Cube017
    add(cube017.part)

    # Cut022: cut Cube016
    add(cube016.part, mode=Mode.SUBTRACT)

    # Cut023: cut Cube018
    add(cube018.part, mode=Mode.SUBTRACT)

    # Cut024: cut Cylinder030
    add(cylinder030_2.part, mode=Mode.SUBTRACT)

    # Cut050: cut Cylinder001
    add(cylinder001_2.part, mode=Mode.SUBTRACT)


with BuildPart() as clone_of_chassis_src:
    # Box032 → Box032 (new body)
    with BuildSketch(Plane(origin=(51, 20, 66), x_dir=(1, 0, 0), z_dir=(0, 0, 1))):
        with Locations((1.5, 16)):
            Rectangle(BOX032_W, BOX032_H)
    extrude(amount=BOX032_DEPTH)

    # Fusion025: union Cut050
    add(cut050.part)

    # Fusion026: union Cube033
    add(cube033.part)

    # Cut051: cut Fillet018002
    add(fillet018002.part, mode=Mode.SUBTRACT)

    # Cut066: cut Cube036
    add(cube036.part, mode=Mode.SUBTRACT)

    # Chamfer003
    chamfer003_edges = [clone_of_chassis_src.edges().sort_by_distance(p)[0] for p in [
        (-20, 36, 118),
    ]]
    chamfer(chamfer003_edges, length=CHAMFER003_SIZE)

    # Fusion040: union Fusion039
    add(fusion039_1.part)

    # Cut067: cut Fusion038
    add(fusion038_3.part, mode=Mode.SUBTRACT)

    # Cut068: cut Cube035
    add(cube035.part, mode=Mode.SUBTRACT)

    # Fillet018013
    fillet018013_edges = [clone_of_chassis_src.edges().sort_by_distance(p)[0] for p in [
        (-20, -1, 71.5),
        (-20, 73, 71.5),
        (54, -1, 70),
        (54, 73, 70),
    ]]
    fillet(fillet018013_edges, radius=FILLET018013_R)

    # Cut113: cut Pad013
    add(pad013.part, mode=Mode.SUBTRACT)


with BuildPart() as clone_of_chassis_src_1:
    # Cut113 placement: moved
    add(clone_of_chassis_src.part.moved(Location((-275, 70, 2))).rotate(Axis((-275, 70, 2), (0, 0, 1)), CUT113_PLACEMENT_ANGLE))


solid = clone_of_chassis_src_1.part
